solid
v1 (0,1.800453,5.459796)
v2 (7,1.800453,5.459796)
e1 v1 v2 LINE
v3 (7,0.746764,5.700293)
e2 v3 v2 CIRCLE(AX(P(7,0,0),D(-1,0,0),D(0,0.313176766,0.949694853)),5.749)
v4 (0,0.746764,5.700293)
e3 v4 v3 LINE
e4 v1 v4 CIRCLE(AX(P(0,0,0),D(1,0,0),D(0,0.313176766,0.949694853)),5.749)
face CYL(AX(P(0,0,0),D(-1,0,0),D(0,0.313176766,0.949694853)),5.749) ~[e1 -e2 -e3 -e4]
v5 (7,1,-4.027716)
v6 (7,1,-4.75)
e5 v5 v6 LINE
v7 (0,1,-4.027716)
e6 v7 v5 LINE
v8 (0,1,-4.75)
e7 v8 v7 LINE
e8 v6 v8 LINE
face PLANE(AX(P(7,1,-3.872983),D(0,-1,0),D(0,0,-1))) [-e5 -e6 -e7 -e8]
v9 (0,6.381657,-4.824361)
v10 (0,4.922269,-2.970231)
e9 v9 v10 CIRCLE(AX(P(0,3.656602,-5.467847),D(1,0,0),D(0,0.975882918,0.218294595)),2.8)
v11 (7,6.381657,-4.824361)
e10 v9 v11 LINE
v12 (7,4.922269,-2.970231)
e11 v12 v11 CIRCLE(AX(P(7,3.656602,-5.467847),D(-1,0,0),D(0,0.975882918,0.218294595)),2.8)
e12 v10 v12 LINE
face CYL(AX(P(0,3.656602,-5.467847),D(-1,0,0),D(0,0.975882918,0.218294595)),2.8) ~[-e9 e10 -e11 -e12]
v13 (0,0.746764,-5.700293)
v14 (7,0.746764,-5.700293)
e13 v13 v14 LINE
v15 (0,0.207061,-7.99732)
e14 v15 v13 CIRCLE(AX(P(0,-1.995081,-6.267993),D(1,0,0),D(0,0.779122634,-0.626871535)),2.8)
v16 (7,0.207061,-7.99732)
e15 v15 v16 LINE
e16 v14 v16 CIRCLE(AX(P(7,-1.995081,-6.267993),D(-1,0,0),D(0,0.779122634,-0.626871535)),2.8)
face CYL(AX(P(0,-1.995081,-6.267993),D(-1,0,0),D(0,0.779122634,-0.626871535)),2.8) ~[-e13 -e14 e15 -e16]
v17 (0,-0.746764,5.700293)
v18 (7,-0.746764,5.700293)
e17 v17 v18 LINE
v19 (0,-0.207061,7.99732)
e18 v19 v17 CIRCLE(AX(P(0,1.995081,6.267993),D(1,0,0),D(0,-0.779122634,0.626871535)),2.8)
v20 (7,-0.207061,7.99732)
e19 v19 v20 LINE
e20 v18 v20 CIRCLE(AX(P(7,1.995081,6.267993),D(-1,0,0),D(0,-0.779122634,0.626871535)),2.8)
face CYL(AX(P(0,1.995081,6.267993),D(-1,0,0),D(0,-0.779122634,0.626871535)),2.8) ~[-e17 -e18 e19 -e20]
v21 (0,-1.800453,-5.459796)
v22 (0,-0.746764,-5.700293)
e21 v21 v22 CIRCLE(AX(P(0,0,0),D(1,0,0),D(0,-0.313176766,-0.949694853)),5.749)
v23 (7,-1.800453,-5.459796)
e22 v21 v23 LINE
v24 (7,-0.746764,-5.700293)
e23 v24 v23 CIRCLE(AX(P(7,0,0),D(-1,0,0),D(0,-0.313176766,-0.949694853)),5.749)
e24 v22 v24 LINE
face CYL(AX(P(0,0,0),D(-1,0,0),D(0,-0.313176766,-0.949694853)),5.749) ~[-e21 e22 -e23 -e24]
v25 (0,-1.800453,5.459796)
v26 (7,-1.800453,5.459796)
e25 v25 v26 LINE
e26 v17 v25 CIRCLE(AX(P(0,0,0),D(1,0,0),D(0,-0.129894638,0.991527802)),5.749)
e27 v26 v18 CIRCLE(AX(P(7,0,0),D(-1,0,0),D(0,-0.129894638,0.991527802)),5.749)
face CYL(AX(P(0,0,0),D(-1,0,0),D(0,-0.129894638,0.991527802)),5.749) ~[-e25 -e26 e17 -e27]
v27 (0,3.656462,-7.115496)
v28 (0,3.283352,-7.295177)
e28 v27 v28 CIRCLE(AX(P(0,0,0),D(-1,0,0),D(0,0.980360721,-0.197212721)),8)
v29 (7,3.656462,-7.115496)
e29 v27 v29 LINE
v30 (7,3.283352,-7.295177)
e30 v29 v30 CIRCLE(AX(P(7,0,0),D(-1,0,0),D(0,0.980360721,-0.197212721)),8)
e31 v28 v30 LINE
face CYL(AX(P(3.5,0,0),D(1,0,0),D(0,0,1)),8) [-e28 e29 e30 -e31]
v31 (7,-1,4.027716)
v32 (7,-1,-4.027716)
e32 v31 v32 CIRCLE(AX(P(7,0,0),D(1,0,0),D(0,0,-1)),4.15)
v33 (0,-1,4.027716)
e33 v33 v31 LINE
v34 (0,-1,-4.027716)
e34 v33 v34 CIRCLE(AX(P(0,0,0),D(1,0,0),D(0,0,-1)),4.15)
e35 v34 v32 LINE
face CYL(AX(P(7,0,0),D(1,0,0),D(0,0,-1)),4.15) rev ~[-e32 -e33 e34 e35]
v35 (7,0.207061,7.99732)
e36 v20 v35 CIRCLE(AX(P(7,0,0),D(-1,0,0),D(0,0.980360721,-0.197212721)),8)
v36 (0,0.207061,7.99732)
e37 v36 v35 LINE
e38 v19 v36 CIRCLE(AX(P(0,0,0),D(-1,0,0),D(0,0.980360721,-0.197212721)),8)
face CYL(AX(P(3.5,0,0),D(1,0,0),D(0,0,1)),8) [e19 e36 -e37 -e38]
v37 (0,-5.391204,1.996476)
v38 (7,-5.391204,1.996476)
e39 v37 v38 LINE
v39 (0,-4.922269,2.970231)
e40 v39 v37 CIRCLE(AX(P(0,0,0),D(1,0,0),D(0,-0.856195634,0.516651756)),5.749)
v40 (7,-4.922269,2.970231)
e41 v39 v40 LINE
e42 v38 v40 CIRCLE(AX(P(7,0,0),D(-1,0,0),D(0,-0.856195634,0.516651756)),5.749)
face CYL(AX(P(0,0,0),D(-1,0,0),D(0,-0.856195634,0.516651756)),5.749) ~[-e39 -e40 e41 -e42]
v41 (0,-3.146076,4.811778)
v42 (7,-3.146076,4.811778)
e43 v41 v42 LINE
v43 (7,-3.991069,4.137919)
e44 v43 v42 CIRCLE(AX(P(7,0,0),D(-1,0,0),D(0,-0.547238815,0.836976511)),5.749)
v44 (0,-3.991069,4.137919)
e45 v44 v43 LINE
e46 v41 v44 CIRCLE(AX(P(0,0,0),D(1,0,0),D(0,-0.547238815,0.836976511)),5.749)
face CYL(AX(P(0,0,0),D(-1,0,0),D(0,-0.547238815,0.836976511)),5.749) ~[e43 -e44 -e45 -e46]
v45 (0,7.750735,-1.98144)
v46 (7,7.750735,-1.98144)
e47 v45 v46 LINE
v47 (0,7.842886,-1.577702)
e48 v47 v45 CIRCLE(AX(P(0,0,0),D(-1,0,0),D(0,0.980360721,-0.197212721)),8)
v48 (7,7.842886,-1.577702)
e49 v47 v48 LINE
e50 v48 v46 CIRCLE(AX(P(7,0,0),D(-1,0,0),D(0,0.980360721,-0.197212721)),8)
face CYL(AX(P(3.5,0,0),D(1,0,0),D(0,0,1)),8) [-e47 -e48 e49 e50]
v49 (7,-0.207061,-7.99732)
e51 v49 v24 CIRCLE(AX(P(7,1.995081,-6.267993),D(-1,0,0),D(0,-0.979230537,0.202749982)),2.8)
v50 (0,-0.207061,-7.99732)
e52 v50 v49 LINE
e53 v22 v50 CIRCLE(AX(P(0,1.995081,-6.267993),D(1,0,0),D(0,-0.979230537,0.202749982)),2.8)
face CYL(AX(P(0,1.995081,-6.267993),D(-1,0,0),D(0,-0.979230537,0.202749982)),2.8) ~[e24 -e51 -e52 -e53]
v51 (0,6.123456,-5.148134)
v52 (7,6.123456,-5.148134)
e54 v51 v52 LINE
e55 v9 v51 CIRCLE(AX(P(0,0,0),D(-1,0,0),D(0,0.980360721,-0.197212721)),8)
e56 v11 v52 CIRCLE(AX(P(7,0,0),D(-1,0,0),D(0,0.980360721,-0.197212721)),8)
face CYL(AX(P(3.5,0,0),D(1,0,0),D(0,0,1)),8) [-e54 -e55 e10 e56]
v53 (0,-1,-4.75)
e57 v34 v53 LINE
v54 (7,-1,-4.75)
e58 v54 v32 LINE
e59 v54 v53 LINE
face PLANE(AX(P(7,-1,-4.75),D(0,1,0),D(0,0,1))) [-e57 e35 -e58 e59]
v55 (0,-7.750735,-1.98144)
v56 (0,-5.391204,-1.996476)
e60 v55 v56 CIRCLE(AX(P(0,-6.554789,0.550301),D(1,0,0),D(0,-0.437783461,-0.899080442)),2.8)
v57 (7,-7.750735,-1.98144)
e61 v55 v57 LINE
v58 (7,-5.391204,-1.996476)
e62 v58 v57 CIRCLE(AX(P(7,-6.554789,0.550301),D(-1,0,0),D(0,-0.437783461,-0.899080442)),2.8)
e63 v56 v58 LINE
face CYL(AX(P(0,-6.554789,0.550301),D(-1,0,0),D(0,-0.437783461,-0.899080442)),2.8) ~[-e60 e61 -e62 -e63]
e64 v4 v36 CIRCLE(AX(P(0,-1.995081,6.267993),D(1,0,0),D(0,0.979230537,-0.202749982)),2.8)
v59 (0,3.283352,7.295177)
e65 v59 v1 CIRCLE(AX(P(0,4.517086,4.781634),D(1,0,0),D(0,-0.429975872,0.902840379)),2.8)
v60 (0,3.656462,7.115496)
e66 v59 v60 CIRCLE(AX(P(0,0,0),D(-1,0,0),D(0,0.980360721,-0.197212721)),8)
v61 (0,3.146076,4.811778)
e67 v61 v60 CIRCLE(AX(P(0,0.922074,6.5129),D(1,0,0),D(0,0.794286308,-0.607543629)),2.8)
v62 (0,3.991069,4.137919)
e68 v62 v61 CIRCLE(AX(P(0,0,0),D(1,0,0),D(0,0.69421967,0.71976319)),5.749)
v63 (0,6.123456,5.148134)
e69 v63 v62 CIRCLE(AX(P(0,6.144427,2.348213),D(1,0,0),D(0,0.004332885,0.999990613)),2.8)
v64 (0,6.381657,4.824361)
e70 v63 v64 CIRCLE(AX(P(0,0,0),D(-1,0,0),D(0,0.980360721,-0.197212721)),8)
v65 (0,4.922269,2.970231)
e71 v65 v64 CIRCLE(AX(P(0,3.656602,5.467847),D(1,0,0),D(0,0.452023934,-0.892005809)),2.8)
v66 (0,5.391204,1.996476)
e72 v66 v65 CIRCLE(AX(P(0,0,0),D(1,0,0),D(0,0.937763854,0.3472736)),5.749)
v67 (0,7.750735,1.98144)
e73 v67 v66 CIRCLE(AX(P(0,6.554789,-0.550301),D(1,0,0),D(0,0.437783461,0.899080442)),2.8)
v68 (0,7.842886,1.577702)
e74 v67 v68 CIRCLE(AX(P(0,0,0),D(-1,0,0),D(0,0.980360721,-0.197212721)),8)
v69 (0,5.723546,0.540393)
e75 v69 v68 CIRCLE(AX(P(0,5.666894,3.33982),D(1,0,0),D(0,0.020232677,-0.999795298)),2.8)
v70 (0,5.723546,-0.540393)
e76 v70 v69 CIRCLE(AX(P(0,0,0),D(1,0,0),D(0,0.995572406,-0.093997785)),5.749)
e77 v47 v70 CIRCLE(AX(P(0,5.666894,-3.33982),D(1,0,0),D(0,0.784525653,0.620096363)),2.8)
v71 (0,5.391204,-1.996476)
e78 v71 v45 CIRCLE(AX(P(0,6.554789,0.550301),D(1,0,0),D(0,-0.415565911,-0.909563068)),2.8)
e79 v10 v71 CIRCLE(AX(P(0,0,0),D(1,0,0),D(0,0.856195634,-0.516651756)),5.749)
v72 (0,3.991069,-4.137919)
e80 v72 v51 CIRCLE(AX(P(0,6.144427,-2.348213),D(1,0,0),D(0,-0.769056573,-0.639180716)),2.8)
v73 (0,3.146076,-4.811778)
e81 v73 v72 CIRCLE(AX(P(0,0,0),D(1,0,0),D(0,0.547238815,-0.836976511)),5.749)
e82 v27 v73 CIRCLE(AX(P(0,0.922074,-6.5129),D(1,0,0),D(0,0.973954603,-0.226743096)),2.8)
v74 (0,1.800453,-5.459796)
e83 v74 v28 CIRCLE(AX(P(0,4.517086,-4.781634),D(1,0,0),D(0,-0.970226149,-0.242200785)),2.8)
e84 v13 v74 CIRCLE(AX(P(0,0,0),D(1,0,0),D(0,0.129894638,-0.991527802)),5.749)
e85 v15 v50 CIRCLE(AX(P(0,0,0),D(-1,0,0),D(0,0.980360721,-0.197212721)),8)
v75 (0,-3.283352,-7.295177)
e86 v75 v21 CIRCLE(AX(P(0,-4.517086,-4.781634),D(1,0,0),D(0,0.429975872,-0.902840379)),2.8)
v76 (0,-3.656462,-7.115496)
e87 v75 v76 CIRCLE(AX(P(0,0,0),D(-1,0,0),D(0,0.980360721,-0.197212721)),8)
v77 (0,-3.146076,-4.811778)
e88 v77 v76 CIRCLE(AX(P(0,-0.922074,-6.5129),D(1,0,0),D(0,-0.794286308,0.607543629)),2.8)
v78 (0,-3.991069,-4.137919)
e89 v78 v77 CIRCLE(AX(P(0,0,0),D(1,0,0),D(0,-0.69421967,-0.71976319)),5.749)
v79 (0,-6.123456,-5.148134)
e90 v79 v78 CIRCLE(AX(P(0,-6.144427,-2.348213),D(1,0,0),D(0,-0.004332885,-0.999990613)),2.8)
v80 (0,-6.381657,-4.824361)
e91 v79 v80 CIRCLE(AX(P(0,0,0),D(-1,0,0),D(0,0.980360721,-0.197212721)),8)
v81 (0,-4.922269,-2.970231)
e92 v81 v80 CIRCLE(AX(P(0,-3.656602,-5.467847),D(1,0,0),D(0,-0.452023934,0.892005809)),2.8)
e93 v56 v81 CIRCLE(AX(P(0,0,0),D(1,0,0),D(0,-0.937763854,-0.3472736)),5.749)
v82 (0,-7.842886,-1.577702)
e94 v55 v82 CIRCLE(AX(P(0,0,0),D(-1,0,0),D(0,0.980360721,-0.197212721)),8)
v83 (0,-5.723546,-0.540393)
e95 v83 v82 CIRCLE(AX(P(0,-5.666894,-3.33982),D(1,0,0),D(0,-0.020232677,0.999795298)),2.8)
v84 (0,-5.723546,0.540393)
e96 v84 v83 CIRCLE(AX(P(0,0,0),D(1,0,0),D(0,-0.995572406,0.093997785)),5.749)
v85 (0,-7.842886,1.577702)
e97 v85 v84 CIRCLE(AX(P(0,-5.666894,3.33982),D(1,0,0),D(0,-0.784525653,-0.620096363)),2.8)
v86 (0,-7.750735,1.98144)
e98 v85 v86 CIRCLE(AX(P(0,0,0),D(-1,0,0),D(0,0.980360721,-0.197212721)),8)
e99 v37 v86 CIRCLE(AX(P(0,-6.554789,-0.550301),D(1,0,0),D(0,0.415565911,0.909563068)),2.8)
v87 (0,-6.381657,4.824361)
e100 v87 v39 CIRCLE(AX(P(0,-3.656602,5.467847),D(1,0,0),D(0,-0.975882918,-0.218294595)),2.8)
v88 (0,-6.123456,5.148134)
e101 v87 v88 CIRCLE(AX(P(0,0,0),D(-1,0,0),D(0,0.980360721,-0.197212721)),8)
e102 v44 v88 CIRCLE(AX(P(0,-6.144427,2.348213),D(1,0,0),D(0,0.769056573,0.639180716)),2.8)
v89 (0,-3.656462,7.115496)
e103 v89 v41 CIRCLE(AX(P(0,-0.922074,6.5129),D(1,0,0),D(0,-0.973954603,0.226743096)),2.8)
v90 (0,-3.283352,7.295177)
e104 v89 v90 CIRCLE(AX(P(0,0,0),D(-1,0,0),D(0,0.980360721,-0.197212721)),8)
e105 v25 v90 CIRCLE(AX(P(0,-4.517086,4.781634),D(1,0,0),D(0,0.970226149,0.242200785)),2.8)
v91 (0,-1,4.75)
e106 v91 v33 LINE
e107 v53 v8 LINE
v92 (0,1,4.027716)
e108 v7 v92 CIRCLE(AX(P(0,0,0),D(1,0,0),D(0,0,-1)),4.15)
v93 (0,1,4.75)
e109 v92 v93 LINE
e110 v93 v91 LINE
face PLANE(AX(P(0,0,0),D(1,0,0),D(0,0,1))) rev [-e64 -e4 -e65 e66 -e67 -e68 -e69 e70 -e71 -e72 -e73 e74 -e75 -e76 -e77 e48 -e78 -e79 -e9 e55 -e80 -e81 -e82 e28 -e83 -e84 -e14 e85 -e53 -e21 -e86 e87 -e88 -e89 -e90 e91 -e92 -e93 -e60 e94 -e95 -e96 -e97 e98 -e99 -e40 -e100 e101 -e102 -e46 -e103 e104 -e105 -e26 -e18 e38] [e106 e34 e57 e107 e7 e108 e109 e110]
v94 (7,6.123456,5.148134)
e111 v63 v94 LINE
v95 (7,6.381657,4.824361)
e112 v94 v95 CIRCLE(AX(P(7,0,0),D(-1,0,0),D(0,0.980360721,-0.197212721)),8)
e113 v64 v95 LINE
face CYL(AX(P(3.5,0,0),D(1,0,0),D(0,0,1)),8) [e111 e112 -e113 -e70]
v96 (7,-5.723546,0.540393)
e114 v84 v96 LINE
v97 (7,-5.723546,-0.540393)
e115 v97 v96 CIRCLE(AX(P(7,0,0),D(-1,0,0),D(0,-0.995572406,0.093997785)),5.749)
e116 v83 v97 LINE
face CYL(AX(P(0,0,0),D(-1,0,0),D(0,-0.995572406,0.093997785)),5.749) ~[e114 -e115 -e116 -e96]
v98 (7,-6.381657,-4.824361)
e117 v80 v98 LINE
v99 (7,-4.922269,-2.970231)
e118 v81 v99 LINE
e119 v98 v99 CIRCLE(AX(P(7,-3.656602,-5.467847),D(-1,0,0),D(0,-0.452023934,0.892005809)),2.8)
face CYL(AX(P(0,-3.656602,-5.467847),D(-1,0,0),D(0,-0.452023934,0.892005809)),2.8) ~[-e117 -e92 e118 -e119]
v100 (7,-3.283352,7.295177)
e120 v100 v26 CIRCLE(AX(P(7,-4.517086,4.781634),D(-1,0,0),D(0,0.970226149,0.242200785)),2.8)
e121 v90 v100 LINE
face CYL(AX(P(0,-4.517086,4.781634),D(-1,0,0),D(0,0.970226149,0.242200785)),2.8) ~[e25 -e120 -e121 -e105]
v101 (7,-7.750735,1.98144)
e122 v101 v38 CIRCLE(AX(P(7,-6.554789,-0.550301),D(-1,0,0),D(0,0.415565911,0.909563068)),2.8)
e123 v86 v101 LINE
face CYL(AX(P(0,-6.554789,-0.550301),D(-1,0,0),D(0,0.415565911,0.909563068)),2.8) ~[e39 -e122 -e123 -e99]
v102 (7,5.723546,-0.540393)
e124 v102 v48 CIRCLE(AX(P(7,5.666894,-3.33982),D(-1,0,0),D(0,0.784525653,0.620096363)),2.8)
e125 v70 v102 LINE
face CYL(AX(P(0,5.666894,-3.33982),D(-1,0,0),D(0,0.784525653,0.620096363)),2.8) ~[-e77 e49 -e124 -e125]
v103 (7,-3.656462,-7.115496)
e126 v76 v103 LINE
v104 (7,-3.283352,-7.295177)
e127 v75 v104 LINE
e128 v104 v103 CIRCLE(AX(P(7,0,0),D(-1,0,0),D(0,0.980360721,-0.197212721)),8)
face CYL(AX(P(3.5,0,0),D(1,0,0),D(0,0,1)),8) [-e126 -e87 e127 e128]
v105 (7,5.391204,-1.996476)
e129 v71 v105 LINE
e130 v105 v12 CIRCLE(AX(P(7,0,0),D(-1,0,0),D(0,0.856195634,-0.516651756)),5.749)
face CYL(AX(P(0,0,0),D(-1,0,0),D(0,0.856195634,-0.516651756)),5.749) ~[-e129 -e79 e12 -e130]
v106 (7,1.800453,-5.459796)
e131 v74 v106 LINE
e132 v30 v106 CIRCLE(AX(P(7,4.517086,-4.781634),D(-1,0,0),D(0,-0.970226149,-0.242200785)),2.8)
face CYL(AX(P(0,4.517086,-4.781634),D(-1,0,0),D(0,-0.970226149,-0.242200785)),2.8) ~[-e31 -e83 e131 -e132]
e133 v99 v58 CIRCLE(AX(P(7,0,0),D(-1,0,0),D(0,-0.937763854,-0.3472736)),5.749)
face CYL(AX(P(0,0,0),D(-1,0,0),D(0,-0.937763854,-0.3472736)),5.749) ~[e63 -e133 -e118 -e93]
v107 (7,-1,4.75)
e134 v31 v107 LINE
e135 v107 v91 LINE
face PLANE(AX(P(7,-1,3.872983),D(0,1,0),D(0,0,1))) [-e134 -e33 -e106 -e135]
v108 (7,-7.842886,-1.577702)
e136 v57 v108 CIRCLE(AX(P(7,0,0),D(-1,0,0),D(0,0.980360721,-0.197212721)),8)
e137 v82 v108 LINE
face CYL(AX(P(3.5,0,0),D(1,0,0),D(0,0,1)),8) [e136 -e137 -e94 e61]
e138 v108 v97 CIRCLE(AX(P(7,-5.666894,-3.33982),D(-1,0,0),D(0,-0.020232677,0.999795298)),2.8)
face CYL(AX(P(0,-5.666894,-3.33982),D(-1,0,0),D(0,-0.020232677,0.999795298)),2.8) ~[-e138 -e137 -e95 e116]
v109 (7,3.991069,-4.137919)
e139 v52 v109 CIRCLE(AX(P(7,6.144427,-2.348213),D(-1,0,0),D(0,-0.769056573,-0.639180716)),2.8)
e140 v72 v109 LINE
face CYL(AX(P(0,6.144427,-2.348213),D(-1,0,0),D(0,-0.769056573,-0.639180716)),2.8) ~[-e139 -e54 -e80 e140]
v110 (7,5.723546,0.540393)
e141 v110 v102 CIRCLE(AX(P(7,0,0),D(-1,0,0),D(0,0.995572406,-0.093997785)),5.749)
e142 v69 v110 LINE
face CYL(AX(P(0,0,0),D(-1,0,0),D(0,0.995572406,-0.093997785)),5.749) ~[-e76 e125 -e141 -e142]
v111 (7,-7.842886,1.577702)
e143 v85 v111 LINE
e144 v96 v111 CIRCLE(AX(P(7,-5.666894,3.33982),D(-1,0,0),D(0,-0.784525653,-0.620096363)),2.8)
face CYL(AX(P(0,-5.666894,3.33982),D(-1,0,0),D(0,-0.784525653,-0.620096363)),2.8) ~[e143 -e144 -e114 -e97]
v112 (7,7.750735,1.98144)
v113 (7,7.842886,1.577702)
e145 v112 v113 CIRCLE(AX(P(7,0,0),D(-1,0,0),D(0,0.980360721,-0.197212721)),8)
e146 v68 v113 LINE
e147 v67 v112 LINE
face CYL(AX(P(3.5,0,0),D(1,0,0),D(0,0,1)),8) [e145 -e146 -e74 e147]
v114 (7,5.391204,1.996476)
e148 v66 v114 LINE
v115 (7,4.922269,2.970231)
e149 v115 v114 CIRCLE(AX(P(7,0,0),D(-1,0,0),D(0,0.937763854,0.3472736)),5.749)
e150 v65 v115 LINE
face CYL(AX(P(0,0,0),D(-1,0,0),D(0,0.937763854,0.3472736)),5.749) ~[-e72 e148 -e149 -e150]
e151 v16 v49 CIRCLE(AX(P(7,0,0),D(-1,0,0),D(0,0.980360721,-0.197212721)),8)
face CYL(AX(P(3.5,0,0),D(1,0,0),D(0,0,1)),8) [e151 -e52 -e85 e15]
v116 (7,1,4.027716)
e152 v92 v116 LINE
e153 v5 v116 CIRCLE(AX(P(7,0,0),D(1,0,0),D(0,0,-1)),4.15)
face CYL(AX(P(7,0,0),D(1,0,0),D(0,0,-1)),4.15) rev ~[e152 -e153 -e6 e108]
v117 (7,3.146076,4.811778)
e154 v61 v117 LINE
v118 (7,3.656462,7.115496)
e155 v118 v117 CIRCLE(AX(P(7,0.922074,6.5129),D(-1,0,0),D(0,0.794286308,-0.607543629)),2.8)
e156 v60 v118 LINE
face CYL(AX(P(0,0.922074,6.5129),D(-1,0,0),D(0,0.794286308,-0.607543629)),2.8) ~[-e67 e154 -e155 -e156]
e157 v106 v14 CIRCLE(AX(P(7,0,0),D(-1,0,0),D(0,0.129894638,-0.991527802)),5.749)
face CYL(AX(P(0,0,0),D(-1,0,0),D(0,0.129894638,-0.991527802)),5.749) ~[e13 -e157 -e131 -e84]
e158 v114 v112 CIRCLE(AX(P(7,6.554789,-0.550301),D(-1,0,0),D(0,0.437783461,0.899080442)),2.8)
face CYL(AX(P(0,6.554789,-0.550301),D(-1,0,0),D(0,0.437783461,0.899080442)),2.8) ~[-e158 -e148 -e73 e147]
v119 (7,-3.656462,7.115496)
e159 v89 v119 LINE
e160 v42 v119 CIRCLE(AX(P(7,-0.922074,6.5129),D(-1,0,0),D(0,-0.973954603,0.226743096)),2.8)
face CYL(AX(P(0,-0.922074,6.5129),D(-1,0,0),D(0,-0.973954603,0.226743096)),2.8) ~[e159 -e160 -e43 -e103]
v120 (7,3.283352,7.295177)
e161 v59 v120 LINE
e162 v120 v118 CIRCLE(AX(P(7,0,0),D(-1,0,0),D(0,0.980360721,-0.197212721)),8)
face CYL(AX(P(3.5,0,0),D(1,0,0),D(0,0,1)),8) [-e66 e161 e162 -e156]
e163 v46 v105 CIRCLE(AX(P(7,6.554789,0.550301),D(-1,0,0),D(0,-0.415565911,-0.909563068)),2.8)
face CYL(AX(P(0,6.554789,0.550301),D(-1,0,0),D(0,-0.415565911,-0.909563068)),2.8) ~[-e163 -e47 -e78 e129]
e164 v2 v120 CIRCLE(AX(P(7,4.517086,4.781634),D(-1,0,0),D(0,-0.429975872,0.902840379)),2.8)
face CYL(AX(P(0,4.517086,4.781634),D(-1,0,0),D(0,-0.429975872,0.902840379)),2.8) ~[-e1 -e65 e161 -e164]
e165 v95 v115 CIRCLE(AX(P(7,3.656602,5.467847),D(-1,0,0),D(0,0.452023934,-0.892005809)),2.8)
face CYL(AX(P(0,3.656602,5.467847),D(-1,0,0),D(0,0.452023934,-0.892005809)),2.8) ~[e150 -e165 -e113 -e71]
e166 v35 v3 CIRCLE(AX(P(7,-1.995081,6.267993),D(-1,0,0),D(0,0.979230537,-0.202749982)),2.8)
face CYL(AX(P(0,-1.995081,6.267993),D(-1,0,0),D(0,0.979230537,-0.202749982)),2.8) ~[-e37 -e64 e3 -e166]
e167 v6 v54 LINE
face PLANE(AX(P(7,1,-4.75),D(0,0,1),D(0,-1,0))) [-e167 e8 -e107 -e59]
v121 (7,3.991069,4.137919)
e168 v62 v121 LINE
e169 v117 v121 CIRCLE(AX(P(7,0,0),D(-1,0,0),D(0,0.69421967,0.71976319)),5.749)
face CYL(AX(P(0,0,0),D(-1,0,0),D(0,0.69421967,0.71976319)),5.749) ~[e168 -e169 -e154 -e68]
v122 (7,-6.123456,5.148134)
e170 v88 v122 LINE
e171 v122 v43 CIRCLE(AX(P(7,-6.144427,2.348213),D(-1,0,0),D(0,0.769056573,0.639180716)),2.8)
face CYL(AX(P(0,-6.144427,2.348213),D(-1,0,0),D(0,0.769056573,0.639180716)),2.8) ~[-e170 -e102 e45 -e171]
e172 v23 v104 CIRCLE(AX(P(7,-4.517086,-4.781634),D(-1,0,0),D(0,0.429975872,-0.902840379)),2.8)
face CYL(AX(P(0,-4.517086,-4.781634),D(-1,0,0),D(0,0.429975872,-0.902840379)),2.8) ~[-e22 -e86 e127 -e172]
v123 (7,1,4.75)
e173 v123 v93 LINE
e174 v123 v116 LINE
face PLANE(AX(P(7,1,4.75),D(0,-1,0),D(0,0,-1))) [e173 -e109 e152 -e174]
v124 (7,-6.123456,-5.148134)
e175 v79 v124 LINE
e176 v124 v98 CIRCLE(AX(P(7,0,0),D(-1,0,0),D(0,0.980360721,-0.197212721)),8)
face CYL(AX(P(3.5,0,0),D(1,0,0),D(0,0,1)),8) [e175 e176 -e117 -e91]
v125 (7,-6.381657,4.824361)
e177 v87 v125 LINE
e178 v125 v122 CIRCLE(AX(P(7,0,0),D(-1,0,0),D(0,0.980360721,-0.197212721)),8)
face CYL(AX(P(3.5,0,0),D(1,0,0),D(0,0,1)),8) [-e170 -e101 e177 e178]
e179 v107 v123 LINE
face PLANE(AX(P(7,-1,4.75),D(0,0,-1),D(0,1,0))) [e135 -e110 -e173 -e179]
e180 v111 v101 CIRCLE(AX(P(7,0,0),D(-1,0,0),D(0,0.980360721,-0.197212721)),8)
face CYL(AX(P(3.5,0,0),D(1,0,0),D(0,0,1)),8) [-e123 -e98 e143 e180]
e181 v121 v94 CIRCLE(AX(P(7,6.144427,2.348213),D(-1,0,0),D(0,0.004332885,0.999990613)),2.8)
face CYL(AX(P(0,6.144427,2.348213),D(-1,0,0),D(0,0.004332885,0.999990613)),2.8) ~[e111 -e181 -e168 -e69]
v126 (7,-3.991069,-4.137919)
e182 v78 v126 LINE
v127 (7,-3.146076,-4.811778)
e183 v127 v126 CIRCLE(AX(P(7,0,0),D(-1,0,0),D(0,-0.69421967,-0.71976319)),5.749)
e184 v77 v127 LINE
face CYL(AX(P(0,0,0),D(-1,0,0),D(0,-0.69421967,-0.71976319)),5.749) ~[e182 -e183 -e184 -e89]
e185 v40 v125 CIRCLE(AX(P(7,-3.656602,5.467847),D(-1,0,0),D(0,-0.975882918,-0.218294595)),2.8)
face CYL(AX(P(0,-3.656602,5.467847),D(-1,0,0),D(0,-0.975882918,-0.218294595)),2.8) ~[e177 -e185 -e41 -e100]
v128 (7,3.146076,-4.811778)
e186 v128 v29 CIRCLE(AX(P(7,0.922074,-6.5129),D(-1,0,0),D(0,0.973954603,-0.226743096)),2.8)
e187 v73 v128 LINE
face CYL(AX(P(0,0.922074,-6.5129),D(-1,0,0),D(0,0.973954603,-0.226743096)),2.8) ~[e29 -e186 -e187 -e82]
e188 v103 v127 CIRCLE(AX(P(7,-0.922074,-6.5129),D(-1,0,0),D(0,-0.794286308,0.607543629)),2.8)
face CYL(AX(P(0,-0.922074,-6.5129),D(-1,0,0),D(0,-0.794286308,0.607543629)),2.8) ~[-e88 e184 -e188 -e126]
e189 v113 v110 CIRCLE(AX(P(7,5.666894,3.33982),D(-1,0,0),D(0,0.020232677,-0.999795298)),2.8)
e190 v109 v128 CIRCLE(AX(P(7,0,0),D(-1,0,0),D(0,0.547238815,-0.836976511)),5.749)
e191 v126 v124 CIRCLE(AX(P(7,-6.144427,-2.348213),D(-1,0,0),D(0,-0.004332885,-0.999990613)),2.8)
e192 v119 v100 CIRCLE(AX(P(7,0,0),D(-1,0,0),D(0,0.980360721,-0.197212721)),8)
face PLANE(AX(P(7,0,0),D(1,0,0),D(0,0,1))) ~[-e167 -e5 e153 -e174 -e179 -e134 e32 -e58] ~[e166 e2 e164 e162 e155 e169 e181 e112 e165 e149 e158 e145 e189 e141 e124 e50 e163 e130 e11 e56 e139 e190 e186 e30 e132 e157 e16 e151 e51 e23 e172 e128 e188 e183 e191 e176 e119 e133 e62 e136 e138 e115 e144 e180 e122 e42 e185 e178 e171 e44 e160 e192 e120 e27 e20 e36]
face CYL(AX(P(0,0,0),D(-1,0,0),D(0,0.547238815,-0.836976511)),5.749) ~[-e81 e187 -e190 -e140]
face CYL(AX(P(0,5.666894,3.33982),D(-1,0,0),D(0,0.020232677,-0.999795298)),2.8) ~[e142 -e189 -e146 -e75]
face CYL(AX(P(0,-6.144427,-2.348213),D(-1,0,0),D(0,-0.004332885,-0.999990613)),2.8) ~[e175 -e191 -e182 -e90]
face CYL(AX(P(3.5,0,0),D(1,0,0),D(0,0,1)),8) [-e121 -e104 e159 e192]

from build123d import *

# Parameters (mm, degrees)
BASPROSKE_W        = 7
BASPROSKE_H        = 8
TOOTHCUT_DEPTH     = 14.304134696
TEETHCUTS_COUNT    = 14
TEETHCUTS_ANGLE    = 334.285714286
BORSKE_R           = 2.5
BORE_DEPTH         = 50.0000508
CUT_EXTRUDE2_DEPTH = 10
SKETCH2_R          = 4.15
CUT_EXTRUDE3_DEPTH = 14.210255756


with BuildPart() as part:
    # BasProSke → Base-Revolve (revolve)
    with BuildSketch(Plane(origin=(0, 0, 0), x_dir=(1, 0, 0), z_dir=(0, 1, 0)), mode=Mode.PRIVATE) as base_revolve_sk:
        with Locations((3.5, 4)):
            Rectangle(BASPROSKE_W, BASPROSKE_H)
    revolve(base_revolve_sk.sketch.rotate(Axis((-10, 0, 0), (1, 0, 0)), 180), axis=Axis((-10, 0, 0), (1, 0, 0)))

    # TooCutSke → ToothCut (cut, through all)
    with BuildSketch(Plane(origin=(0, 0, 0), x_dir=(0, 0, -1), z_dir=(1, 0, 0))):
        with BuildLine():
            ThreePointArc((0.540393256, 5.723545765), (0, 5.749), (-0.540393256, 5.723545765))
            ThreePointArc((-0.540393256, 5.723545765), (-0.832220085, 6.912663993), (-1.603550271, 7.863566092))
            ThreePointArc((-1.603550271, 7.863566092), (0, 8.0254), (1.603550271, 7.863566092))
            ThreePointArc((1.603550271, 7.863566092), (0.832220085, 6.912663993), (0.540393256, 5.723545765))
        make_face()
    toothcut = extrude(amount=TOOTHCUT_DEPTH, mode=Mode.SUBTRACT)

    # TeethCuts: ToothCut ×14 about axis
    teethcuts_axis = Axis((-10, 0, 0), (1, 0, 0))
    for i in range(1, TEETHCUTS_COUNT):
        add(toothcut.rotate(teethcuts_axis, i * TEETHCUTS_ANGLE / (TEETHCUTS_COUNT - 1)), mode=Mode.SUBTRACT)

    # BorSke → Bore (cut, symmetric)
    with BuildSketch(Plane(origin=(0, 0, 0), x_dir=(0, 0, -1), z_dir=(1, 0, 0))):
        with Locations(Location((0, 0, 0), (0, 0, 180))):
            Circle(BORSKE_R)
    extrude(amount=BORE_DEPTH, both=True, mode=Mode.SUBTRACT)

    # Sketch1 → Cut-Extrude2 (cut)
    with BuildSketch(Plane(origin=(7, 0, 0), x_dir=(0, 0, -1), z_dir=(1, 0, 0))):
        with BuildLine():
            Line((3.872983346, 1), (4.75, 1))
            Line((4.75, 1), (4.75, -1))
            Line((4.75, -1), (3.872983346, -1))
            ThreePointArc((3.872983346, -1), (0, -4), (-3.872983346, -1))
            Line((-3.872983346, -1), (-4.75, -1))
            Line((-4.75, -1), (-4.75, 1))
            Line((-4.75, 1), (-3.872983346, 1))
            ThreePointArc((-3.872983346, 1), (0, 4), (3.872983346, 1))
        make_face()
    extrude(amount=-CUT_EXTRUDE2_DEPTH, mode=Mode.SUBTRACT)

    # Sketch2 → Cut-Extrude3 (cut, through all)
    with BuildSketch(Plane(origin=(7, 0, 0), x_dir=(0, 0, -1), z_dir=(1, 0, 0))):
        Circle(SKETCH2_R)
    extrude(amount=-CUT_EXTRUDE3_DEPTH, mode=Mode.SUBTRACT)


solid = part.part
